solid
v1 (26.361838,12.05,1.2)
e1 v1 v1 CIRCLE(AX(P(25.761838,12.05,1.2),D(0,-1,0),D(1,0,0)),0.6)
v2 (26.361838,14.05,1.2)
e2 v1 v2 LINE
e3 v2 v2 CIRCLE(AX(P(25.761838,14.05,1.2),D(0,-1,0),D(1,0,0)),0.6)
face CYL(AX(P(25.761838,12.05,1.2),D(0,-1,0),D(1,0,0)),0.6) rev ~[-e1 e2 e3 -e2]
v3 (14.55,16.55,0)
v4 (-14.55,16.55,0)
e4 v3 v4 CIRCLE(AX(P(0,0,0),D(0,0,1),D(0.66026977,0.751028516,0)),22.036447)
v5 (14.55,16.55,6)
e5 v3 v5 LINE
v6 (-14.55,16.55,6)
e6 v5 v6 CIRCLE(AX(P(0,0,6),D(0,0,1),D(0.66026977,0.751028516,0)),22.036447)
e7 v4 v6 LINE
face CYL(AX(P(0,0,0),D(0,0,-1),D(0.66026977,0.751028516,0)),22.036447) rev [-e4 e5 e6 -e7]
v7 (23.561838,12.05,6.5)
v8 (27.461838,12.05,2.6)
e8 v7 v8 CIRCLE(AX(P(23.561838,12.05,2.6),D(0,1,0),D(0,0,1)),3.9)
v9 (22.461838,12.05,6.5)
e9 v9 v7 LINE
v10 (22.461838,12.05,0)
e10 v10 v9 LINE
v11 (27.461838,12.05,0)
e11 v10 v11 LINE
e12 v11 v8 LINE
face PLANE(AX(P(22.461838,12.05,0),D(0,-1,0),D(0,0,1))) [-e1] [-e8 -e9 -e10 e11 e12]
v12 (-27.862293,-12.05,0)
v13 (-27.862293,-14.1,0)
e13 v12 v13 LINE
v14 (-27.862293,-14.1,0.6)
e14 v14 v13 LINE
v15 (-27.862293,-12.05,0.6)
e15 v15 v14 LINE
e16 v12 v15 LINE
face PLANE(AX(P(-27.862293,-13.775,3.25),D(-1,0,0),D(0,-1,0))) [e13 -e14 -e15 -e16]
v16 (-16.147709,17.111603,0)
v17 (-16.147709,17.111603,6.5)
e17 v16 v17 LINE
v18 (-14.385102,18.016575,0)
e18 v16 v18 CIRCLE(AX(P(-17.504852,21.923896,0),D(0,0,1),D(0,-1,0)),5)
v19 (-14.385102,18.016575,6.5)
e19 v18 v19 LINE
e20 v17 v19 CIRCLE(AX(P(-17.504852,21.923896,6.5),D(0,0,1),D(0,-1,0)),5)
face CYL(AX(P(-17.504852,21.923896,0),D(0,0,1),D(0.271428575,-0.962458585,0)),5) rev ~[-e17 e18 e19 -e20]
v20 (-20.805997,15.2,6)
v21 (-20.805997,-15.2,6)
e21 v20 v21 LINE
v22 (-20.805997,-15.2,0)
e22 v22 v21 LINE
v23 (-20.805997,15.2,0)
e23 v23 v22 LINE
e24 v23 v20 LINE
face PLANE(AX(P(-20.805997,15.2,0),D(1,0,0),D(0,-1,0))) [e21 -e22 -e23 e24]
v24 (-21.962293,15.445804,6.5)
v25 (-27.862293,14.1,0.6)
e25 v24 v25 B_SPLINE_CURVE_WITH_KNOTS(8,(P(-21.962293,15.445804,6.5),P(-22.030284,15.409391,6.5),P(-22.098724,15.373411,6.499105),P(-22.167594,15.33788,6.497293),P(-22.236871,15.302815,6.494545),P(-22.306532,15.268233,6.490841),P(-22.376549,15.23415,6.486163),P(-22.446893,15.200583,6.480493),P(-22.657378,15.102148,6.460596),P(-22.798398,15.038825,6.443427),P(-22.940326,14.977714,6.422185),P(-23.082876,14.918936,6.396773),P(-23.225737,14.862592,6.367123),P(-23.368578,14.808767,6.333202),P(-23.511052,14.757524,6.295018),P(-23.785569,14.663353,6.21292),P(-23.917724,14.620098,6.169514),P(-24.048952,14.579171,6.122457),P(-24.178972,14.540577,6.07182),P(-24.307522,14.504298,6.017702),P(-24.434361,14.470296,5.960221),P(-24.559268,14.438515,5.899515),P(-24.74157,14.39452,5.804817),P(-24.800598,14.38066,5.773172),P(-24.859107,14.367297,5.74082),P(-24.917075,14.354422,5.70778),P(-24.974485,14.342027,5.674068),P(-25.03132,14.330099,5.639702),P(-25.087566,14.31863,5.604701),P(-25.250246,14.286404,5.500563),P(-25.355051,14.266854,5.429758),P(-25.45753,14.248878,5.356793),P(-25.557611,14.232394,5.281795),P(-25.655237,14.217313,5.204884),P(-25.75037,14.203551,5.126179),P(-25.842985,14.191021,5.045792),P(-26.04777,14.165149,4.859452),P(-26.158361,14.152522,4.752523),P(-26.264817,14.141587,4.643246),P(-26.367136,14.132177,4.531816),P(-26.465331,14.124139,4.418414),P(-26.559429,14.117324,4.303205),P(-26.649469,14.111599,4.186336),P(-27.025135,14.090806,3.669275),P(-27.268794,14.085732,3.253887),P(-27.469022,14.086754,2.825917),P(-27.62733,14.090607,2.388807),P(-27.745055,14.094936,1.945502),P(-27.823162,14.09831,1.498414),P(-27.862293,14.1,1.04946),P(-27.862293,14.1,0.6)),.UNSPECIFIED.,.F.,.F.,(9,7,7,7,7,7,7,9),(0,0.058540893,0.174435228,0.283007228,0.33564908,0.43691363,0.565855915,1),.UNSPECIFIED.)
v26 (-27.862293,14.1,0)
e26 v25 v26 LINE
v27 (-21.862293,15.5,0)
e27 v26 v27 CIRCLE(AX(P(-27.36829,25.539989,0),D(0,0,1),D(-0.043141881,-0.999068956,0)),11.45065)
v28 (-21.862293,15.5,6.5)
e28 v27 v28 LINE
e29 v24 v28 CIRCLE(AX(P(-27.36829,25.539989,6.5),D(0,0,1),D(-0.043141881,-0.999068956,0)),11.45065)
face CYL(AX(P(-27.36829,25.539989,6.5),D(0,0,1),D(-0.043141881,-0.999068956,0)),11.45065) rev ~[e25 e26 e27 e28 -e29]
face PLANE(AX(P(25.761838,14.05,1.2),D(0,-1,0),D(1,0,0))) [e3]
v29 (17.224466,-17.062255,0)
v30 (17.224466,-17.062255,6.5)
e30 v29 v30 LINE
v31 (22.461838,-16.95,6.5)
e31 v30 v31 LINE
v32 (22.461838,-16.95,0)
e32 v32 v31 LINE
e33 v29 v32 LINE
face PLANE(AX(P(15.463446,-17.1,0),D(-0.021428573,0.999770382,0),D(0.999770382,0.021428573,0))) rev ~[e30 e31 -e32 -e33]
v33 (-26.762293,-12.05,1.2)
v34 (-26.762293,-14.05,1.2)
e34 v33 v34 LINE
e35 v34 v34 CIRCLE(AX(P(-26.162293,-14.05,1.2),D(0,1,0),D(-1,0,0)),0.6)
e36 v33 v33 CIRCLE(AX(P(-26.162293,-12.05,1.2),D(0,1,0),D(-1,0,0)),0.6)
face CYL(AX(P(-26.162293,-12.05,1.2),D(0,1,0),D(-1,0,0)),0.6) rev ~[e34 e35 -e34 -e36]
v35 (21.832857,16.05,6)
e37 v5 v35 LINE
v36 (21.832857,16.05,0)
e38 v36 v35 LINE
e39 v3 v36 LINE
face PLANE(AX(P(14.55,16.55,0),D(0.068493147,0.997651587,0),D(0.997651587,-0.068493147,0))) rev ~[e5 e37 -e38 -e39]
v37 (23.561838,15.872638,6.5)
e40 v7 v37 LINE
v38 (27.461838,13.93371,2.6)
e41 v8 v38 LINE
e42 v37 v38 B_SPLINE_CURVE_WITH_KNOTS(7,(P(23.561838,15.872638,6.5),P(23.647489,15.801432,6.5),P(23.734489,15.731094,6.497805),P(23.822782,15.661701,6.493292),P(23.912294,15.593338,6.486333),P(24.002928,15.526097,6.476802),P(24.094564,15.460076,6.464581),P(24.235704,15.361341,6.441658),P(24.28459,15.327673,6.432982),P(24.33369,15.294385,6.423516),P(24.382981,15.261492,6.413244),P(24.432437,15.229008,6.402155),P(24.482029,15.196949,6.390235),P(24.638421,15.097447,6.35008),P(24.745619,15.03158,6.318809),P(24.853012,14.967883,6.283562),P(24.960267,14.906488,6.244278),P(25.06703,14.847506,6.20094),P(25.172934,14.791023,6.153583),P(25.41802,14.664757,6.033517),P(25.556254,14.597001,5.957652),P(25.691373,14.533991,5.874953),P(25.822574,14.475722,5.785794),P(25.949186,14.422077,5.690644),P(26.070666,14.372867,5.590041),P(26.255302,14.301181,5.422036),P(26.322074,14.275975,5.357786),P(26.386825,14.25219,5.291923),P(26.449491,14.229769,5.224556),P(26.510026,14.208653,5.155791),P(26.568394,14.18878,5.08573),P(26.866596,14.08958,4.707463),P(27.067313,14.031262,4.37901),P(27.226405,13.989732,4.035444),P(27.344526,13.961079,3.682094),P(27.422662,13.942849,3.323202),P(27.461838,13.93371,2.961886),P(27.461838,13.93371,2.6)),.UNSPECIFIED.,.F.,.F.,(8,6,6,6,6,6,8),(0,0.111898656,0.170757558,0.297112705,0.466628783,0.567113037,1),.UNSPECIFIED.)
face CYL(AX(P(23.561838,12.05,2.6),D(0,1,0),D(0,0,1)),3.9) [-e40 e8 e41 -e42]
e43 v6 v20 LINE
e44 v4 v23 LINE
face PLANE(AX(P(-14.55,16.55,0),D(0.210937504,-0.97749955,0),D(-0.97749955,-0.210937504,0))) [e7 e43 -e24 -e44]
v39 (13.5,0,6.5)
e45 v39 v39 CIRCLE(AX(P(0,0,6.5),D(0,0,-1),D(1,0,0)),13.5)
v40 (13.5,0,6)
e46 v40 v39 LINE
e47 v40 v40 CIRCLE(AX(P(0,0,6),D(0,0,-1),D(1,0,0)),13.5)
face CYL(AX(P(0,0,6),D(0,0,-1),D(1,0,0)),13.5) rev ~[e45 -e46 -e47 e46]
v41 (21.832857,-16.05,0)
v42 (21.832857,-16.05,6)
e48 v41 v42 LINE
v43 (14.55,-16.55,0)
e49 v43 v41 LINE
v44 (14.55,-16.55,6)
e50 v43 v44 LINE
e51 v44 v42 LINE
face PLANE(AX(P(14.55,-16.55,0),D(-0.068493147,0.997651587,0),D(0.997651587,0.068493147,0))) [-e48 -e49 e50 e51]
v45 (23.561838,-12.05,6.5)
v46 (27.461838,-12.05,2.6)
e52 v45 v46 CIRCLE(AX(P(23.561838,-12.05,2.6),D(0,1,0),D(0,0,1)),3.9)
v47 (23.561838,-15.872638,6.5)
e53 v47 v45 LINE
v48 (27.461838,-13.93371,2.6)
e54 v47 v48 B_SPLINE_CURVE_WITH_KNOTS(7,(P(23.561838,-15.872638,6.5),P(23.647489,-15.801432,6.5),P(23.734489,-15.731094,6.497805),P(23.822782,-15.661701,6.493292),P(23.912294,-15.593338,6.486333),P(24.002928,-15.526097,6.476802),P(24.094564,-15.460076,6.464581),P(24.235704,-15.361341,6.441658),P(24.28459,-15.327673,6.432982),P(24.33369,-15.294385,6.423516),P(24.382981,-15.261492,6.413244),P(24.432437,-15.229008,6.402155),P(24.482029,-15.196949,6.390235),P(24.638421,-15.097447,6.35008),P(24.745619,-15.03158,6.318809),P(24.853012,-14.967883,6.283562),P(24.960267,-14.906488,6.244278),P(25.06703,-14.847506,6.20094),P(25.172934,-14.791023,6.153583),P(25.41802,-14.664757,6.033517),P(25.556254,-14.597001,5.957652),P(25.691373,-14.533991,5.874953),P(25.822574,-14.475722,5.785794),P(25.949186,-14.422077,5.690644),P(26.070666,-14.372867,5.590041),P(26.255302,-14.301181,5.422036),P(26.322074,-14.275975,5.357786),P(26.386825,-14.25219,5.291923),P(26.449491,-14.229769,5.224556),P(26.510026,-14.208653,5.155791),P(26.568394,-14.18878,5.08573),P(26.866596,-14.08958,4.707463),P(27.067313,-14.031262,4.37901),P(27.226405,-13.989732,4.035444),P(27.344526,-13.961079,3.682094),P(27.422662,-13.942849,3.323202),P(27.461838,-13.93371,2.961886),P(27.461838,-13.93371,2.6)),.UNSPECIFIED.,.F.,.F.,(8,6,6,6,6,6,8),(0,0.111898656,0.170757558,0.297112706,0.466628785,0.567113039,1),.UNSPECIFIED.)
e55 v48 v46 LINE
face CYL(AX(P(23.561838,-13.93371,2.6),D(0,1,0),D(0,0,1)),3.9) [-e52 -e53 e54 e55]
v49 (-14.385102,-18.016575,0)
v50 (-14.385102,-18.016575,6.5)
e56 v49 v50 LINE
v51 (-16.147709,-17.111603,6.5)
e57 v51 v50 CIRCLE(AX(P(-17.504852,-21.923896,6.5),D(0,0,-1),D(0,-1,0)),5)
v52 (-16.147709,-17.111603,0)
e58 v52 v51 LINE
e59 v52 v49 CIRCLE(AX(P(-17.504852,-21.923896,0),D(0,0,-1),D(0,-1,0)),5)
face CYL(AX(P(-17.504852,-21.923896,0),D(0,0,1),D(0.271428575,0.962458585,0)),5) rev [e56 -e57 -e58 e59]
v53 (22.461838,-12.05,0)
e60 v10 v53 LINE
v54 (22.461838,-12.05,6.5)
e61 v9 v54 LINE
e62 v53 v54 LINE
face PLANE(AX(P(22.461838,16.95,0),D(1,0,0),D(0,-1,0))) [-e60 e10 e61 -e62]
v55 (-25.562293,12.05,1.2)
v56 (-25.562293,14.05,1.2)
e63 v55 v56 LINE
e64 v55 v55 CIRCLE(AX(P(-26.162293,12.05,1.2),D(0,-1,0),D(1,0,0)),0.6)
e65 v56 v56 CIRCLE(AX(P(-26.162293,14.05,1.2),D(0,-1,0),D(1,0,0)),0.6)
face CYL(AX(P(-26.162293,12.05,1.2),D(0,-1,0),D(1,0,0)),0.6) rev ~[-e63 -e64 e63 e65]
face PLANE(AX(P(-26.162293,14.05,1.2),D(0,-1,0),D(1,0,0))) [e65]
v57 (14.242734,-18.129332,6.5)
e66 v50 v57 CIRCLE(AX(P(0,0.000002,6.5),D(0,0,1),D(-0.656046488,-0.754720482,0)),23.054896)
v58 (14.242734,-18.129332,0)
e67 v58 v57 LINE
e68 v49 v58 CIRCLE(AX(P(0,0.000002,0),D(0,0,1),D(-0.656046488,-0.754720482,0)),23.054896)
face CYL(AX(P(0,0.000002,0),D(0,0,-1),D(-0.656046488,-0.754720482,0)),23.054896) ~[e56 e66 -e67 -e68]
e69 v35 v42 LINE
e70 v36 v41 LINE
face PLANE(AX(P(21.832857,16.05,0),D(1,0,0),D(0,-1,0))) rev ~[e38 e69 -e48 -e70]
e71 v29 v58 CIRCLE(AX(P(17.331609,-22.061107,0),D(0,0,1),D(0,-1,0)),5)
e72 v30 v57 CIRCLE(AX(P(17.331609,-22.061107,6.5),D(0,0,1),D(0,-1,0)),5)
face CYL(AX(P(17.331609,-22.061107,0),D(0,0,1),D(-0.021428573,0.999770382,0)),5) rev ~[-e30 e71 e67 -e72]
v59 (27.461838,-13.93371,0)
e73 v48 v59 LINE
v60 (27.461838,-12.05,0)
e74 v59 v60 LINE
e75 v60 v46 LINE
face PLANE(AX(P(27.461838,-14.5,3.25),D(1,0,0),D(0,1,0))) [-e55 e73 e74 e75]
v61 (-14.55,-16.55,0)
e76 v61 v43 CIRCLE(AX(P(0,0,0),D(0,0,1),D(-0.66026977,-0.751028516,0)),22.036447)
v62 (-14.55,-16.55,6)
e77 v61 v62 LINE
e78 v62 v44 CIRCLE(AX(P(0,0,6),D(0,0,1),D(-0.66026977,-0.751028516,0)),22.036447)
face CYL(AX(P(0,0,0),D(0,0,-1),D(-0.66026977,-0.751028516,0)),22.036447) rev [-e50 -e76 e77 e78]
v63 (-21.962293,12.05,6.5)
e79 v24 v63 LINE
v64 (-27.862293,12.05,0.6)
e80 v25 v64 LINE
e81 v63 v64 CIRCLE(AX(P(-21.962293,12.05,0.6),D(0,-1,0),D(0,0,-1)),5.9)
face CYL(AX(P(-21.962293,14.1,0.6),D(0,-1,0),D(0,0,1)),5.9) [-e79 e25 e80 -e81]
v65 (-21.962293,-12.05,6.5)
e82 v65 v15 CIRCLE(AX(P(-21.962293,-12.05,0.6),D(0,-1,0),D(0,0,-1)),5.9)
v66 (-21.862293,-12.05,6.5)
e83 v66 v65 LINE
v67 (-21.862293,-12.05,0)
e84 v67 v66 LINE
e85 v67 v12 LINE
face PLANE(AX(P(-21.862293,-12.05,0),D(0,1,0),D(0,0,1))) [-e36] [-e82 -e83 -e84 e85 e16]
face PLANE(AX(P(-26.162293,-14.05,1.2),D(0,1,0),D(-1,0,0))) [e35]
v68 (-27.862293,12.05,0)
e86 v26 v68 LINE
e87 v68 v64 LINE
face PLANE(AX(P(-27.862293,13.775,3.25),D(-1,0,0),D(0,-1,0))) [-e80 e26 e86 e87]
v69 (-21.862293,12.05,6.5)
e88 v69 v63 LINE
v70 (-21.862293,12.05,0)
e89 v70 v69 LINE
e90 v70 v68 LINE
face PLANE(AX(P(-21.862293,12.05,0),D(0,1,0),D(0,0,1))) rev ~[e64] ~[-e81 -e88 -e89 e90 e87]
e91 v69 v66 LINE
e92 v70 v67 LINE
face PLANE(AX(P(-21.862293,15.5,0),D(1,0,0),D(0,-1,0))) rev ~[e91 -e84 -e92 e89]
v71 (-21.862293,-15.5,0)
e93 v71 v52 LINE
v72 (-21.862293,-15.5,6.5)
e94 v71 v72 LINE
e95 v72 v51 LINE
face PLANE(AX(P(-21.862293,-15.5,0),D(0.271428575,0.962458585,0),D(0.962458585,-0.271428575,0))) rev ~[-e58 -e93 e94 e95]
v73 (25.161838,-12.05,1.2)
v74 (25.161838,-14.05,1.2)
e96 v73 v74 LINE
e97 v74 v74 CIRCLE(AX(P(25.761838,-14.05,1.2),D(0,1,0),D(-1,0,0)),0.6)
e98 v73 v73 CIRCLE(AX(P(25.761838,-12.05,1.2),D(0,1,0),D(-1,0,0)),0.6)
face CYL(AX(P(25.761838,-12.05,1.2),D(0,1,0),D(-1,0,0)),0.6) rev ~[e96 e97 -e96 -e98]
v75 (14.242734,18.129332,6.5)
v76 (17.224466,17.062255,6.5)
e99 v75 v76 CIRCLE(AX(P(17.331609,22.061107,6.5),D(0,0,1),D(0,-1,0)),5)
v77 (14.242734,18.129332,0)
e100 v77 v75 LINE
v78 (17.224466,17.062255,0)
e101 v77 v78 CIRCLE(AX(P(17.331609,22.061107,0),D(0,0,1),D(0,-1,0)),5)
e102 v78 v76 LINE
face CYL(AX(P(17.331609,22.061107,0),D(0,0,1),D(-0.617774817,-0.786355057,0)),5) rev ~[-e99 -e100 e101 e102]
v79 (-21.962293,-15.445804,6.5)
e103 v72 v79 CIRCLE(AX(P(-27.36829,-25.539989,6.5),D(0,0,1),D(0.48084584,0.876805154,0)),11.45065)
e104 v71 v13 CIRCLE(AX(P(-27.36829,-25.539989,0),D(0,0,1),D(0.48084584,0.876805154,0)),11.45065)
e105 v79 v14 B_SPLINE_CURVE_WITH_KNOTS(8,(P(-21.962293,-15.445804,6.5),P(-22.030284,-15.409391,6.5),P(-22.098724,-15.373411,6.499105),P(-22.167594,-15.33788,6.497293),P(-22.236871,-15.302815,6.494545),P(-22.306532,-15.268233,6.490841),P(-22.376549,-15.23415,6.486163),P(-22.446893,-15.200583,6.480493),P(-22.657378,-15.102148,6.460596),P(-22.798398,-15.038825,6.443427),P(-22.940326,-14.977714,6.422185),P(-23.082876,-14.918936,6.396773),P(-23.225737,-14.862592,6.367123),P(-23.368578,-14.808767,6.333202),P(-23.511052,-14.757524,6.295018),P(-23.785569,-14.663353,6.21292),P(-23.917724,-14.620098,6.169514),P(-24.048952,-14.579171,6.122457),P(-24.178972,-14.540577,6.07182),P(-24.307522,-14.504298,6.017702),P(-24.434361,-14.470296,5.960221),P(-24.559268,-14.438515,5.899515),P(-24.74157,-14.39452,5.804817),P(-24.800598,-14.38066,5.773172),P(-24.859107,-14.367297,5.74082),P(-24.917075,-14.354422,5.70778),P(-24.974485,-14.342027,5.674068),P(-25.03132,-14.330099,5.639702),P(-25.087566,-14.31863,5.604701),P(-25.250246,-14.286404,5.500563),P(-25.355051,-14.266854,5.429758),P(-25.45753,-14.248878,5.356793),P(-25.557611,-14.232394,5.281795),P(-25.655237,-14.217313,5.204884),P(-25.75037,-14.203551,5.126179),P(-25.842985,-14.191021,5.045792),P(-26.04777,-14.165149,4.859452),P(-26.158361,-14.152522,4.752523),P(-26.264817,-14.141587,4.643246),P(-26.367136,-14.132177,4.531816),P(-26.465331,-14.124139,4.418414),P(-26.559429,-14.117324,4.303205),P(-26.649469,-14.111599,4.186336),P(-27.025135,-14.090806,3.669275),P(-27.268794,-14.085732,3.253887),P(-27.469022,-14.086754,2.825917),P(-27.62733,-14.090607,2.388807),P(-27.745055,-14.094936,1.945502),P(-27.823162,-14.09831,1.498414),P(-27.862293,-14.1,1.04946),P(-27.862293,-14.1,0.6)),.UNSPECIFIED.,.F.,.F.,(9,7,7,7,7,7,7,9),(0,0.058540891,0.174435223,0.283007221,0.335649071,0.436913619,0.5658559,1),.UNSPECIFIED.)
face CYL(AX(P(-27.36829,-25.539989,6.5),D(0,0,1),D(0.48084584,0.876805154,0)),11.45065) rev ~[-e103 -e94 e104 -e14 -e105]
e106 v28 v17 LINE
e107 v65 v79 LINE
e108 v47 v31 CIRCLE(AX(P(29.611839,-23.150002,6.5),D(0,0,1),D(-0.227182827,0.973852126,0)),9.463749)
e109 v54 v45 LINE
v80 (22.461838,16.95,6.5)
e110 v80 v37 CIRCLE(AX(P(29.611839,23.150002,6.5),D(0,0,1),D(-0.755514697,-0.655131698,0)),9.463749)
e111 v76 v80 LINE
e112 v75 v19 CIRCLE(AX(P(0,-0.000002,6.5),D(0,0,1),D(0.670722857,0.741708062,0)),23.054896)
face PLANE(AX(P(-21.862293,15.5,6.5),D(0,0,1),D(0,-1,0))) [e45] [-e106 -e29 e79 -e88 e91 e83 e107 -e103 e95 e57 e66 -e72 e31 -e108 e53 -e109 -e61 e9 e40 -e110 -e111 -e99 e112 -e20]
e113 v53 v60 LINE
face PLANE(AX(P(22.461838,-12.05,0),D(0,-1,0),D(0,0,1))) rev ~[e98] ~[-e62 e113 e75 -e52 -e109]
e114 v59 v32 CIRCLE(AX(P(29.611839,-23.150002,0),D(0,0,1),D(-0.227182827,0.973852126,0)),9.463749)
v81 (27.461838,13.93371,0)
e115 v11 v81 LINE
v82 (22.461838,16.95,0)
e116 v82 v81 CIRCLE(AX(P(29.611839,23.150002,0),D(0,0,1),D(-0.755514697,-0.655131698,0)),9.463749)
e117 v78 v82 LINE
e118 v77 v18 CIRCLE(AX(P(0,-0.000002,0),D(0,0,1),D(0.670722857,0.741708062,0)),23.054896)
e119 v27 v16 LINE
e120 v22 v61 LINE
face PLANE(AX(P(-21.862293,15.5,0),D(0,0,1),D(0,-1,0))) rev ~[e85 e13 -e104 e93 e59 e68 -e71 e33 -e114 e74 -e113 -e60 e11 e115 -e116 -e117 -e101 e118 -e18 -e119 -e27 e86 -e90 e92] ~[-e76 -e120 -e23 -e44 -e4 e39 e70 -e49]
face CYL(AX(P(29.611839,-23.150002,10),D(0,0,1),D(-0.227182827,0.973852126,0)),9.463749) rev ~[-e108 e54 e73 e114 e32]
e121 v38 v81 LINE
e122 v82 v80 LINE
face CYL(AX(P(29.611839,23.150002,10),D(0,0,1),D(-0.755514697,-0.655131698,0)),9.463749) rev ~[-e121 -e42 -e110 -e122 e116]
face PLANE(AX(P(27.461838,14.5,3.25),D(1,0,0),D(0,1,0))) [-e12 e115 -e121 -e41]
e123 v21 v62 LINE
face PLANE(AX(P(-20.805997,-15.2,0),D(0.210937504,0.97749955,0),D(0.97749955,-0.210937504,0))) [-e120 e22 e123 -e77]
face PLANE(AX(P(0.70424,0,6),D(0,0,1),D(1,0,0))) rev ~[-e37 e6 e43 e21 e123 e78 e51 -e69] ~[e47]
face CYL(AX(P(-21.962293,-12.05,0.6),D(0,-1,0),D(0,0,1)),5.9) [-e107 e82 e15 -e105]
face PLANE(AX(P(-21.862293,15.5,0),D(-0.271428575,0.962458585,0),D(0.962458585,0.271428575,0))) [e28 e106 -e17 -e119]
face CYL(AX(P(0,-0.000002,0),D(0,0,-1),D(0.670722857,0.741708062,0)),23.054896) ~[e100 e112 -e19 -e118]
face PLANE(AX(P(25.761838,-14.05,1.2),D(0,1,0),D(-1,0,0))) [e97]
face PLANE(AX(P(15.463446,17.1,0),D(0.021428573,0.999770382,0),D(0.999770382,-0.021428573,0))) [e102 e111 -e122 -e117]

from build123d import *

# Parameters (mm, degrees)
PAD_DEPTH       = 6.5
POCKET_DEPTH    = 6
SKETCH002_R     = 13.5
POCKET001_DEPTH = 1
SKETCH003_W     = 4.9
SKETCH003_H     = 6.5
PAD001_DEPTH    = 5
POCKET002_DEPTH = 10
SKETCH008_R     = 0.6
POCKET003_DEPTH = 2
SKETCH009_R     = 0.6
POCKET004_DEPTH = 2
FILLET_R        = 3.9
FILLET001_R     = 3.9
FILLET002_R     = 5
FILLET003_R     = 5
FILLET004_R     = 5
FILLET005_R     = 5
SKETCH010_W     = 3.45
SKETCH010_H     = 6.5
PAD002_DEPTH    = 6
POCKET005_DEPTH = 10
SKETCH012_R     = 0.6
POCKET006_DEPTH = 2
SKETCH013_R     = 0.6
POCKET007_DEPTH = 2
FILLET006_R     = 5.9
FILLET007_R     = 5.9


with BuildPart() as part:
    # Sketch → Pad (new body)
    with BuildSketch(Plane.XY):
        with BuildLine():
            Line((-21.862293, 15.5), (-21.862293, -15.5))
            Line((-21.862293, -15.5), (-15.125083, -17.4))
            ThreePointArc((-15.125083, -17.4), (0.226102, -23.053785), (15.463446, -17.1))
            Line((15.463446, -17.1), (22.461838, -16.95))
            Line((22.461838, 16.95), (22.461838, -16.95))
            Line((15.463446, 17.1), (22.461838, 16.95))
            ThreePointArc((15.463446, 17.1), (0.226102, 23.053785), (-15.125083, 17.4))
            Line((-21.862293, 15.5), (-15.125083, 17.4))
        make_face()
    extrude(amount=PAD_DEPTH)

    # Sketch001 → Pocket (cut)
    with BuildSketch(Plane.XY):
        with BuildLine():
            Line((-14.55, 16.55), (-20.805997, 15.2))
            Line((-20.805997, 15.2), (-20.805997, -15.2))
            Line((-20.805997, -15.2), (-14.55, -16.55))
            ThreePointArc((-14.55, -16.55), (0, -22.036447), (14.55, -16.55))
            Line((14.55, -16.55), (21.832857, -16.05))
            Line((21.832857, 16.05), (21.832857, -16.05))
            Line((14.55, 16.55), (21.832857, 16.05))
            ThreePointArc((14.55, 16.55), (0, 22.036447), (-14.55, 16.55))
        make_face()
    extrude(amount=POCKET_DEPTH, mode=Mode.SUBTRACT)

    # Sketch002 (on Face19 of Pocket) → Pocket001 (cut)
    with BuildSketch(Plane(origin=(0, 0, 6), x_dir=(1, 0, 0), z_dir=(0, 0, -1))):
        Circle(SKETCH002_R)
    extrude(amount=-POCKET001_DEPTH, mode=Mode.SUBTRACT)

    # Sketch003 (on Face6 of Pocket001) → Pad001 (join)
    with BuildSketch(Plane.YZ.offset(22.461838)):
        with Locations((-14.5, 3.25)):
            Rectangle(SKETCH003_W, SKETCH003_H)
        with Locations((14.5, 3.25)):
            Rectangle(SKETCH003_W, SKETCH003_H)
    extrude(amount=PAD001_DEPTH)

    # Sketch006 → Pocket002 (cut)
    with BuildSketch(Plane.XY.offset(10)):
        with BuildLine():
            ThreePointArc((22.461838, 16.95), (24.723382, 15.046575), (27.461838, 13.93371))
            Line((27.461838, 16.95), (27.461838, 13.93371))
            Line((27.461838, 16.95), (22.461838, 16.95))
        make_face()
        with BuildLine():
            ThreePointArc((27.461838, -13.93371), (24.723382, -15.046575), (22.461838, -16.95))
            Line((27.461838, -16.95), (22.461838, -16.95))
            Line((27.461838, -13.93371), (27.461838, -16.95))
        make_face()
    extrude(amount=-POCKET002_DEPTH, mode=Mode.SUBTRACT)

    # Sketch008 (on Face27 of Pocket002) → Pocket003 (cut)
    with BuildSketch(Plane(origin=(0, -12.05, 0), x_dir=(-1, 0, 0), z_dir=(0, 1, 0))):
        with Locations((-25.761838, 1.2)):
            Circle(SKETCH008_R)
    extrude(amount=-POCKET003_DEPTH, mode=Mode.SUBTRACT)

    # Sketch009 (on Face26 of Pocket003) → Pocket004 (cut)
    with BuildSketch(Plane.XZ.offset(-12.05)):
        with Locations((25.761838, 1.2)):
            Circle(SKETCH009_R)
    extrude(amount=-POCKET004_DEPTH, mode=Mode.SUBTRACT)

    # Fillet
    fillet_edges = [part.edges().sort_by_distance(p)[0] for p in [
        (27.461838, -12.991855, 6.5),
    ]]
    fillet(fillet_edges, radius=FILLET_R)

    # Fillet001
    fillet001_edges = [part.edges().sort_by_distance(p)[0] for p in [
        (27.461838, 12.991855, 6.5),
    ]]
    fillet(fillet001_edges, radius=FILLET001_R)

    # Fillet002
    fillet002_edges = [part.edges().sort_by_distance(p)[0] for p in [
        (15.463446, -17.1, 3.25),
    ]]
    fillet(fillet002_edges, radius=FILLET002_R)

    # Fillet003
    fillet003_edges = [part.edges().sort_by_distance(p)[0] for p in [
        (15.463446, 17.1, 3.25),
    ]]
    fillet(fillet003_edges, radius=FILLET003_R)

    # Fillet004
    fillet004_edges = [part.edges().sort_by_distance(p)[0] for p in [
        (-15.125083, -17.4, 3.25),
    ]]
    fillet(fillet004_edges, radius=FILLET004_R)

    # Fillet005
    fillet005_edges = [part.edges().sort_by_distance(p)[0] for p in [
        (-15.125083, 17.4, 3.25),
    ]]
    fillet(fillet005_edges, radius=FILLET005_R)

    # Sketch010 (on Face4 of Fillet005) → Pad002 (join)
    with BuildSketch(Plane(origin=(-21.862293, 0, 0), x_dir=(0, -1, 0), z_dir=(-1, 0, 0))):
        with Locations((-13.775, 3.25)):
            Rectangle(SKETCH010_W, SKETCH010_H)
        with Locations((13.775, 3.25)):
            Rectangle(SKETCH010_W, SKETCH010_H)
    extrude(amount=PAD002_DEPTH)

    # Sketch011 (on Face6 of Pad002) → Pocket005 (cut)
    with BuildSketch(Plane.XY.offset(6.5)):
        with BuildLine():
            ThreePointArc((-27.862293, 14.1), (-24.766364, 14.388874), (-21.862293, 15.5))
            Line((-21.862293, 15.5), (-27.862293, 15.5))
            Line((-27.862293, 15.5), (-27.862293, 14.1))
        make_face()
        with BuildLine():
            ThreePointArc((-21.862293, -15.5), (-24.766364, -14.388874), (-27.862293, -14.1))
            Line((-27.862293, -14.1), (-27.862293, -15.5))
            Line((-27.862293, -15.5), (-21.862293, -15.5))
        make_face()
    extrude(amount=-POCKET005_DEPTH, mode=Mode.SUBTRACT)

    # Sketch012 (on Face23 of Pocket005) → Pocket006 (cut)
    with BuildSketch(Plane(origin=(0, -12.05, 0), x_dir=(-1, 0, 0), z_dir=(0, 1, 0))):
        with Locations((26.162293, 1.2)):
            Circle(SKETCH012_R)
    extrude(amount=-POCKET006_DEPTH, mode=Mode.SUBTRACT)

    # Sketch013 (on Face21 of Pocket006) → Pocket007 (cut)
    with BuildSketch(Plane.XZ.offset(-12.05)):
        with Locations((-26.162293, 1.2)):
            Circle(SKETCH013_R)
    extrude(amount=-POCKET007_DEPTH, mode=Mode.SUBTRACT)

    # Fillet006
    fillet006_edges = [part.edges().sort_by_distance(p)[0] for p in [
        (-27.862293, 13.075, 6.5),
    ]]
    fillet(fillet006_edges, radius=FILLET006_R)

    # Fillet007
    fillet007_edges = [part.edges().sort_by_distance(p)[0] for p in [
        (-27.862293, -13.075, 6.5),
    ]]
    fillet(fillet007_edges, radius=FILLET007_R)


solid = part.part
